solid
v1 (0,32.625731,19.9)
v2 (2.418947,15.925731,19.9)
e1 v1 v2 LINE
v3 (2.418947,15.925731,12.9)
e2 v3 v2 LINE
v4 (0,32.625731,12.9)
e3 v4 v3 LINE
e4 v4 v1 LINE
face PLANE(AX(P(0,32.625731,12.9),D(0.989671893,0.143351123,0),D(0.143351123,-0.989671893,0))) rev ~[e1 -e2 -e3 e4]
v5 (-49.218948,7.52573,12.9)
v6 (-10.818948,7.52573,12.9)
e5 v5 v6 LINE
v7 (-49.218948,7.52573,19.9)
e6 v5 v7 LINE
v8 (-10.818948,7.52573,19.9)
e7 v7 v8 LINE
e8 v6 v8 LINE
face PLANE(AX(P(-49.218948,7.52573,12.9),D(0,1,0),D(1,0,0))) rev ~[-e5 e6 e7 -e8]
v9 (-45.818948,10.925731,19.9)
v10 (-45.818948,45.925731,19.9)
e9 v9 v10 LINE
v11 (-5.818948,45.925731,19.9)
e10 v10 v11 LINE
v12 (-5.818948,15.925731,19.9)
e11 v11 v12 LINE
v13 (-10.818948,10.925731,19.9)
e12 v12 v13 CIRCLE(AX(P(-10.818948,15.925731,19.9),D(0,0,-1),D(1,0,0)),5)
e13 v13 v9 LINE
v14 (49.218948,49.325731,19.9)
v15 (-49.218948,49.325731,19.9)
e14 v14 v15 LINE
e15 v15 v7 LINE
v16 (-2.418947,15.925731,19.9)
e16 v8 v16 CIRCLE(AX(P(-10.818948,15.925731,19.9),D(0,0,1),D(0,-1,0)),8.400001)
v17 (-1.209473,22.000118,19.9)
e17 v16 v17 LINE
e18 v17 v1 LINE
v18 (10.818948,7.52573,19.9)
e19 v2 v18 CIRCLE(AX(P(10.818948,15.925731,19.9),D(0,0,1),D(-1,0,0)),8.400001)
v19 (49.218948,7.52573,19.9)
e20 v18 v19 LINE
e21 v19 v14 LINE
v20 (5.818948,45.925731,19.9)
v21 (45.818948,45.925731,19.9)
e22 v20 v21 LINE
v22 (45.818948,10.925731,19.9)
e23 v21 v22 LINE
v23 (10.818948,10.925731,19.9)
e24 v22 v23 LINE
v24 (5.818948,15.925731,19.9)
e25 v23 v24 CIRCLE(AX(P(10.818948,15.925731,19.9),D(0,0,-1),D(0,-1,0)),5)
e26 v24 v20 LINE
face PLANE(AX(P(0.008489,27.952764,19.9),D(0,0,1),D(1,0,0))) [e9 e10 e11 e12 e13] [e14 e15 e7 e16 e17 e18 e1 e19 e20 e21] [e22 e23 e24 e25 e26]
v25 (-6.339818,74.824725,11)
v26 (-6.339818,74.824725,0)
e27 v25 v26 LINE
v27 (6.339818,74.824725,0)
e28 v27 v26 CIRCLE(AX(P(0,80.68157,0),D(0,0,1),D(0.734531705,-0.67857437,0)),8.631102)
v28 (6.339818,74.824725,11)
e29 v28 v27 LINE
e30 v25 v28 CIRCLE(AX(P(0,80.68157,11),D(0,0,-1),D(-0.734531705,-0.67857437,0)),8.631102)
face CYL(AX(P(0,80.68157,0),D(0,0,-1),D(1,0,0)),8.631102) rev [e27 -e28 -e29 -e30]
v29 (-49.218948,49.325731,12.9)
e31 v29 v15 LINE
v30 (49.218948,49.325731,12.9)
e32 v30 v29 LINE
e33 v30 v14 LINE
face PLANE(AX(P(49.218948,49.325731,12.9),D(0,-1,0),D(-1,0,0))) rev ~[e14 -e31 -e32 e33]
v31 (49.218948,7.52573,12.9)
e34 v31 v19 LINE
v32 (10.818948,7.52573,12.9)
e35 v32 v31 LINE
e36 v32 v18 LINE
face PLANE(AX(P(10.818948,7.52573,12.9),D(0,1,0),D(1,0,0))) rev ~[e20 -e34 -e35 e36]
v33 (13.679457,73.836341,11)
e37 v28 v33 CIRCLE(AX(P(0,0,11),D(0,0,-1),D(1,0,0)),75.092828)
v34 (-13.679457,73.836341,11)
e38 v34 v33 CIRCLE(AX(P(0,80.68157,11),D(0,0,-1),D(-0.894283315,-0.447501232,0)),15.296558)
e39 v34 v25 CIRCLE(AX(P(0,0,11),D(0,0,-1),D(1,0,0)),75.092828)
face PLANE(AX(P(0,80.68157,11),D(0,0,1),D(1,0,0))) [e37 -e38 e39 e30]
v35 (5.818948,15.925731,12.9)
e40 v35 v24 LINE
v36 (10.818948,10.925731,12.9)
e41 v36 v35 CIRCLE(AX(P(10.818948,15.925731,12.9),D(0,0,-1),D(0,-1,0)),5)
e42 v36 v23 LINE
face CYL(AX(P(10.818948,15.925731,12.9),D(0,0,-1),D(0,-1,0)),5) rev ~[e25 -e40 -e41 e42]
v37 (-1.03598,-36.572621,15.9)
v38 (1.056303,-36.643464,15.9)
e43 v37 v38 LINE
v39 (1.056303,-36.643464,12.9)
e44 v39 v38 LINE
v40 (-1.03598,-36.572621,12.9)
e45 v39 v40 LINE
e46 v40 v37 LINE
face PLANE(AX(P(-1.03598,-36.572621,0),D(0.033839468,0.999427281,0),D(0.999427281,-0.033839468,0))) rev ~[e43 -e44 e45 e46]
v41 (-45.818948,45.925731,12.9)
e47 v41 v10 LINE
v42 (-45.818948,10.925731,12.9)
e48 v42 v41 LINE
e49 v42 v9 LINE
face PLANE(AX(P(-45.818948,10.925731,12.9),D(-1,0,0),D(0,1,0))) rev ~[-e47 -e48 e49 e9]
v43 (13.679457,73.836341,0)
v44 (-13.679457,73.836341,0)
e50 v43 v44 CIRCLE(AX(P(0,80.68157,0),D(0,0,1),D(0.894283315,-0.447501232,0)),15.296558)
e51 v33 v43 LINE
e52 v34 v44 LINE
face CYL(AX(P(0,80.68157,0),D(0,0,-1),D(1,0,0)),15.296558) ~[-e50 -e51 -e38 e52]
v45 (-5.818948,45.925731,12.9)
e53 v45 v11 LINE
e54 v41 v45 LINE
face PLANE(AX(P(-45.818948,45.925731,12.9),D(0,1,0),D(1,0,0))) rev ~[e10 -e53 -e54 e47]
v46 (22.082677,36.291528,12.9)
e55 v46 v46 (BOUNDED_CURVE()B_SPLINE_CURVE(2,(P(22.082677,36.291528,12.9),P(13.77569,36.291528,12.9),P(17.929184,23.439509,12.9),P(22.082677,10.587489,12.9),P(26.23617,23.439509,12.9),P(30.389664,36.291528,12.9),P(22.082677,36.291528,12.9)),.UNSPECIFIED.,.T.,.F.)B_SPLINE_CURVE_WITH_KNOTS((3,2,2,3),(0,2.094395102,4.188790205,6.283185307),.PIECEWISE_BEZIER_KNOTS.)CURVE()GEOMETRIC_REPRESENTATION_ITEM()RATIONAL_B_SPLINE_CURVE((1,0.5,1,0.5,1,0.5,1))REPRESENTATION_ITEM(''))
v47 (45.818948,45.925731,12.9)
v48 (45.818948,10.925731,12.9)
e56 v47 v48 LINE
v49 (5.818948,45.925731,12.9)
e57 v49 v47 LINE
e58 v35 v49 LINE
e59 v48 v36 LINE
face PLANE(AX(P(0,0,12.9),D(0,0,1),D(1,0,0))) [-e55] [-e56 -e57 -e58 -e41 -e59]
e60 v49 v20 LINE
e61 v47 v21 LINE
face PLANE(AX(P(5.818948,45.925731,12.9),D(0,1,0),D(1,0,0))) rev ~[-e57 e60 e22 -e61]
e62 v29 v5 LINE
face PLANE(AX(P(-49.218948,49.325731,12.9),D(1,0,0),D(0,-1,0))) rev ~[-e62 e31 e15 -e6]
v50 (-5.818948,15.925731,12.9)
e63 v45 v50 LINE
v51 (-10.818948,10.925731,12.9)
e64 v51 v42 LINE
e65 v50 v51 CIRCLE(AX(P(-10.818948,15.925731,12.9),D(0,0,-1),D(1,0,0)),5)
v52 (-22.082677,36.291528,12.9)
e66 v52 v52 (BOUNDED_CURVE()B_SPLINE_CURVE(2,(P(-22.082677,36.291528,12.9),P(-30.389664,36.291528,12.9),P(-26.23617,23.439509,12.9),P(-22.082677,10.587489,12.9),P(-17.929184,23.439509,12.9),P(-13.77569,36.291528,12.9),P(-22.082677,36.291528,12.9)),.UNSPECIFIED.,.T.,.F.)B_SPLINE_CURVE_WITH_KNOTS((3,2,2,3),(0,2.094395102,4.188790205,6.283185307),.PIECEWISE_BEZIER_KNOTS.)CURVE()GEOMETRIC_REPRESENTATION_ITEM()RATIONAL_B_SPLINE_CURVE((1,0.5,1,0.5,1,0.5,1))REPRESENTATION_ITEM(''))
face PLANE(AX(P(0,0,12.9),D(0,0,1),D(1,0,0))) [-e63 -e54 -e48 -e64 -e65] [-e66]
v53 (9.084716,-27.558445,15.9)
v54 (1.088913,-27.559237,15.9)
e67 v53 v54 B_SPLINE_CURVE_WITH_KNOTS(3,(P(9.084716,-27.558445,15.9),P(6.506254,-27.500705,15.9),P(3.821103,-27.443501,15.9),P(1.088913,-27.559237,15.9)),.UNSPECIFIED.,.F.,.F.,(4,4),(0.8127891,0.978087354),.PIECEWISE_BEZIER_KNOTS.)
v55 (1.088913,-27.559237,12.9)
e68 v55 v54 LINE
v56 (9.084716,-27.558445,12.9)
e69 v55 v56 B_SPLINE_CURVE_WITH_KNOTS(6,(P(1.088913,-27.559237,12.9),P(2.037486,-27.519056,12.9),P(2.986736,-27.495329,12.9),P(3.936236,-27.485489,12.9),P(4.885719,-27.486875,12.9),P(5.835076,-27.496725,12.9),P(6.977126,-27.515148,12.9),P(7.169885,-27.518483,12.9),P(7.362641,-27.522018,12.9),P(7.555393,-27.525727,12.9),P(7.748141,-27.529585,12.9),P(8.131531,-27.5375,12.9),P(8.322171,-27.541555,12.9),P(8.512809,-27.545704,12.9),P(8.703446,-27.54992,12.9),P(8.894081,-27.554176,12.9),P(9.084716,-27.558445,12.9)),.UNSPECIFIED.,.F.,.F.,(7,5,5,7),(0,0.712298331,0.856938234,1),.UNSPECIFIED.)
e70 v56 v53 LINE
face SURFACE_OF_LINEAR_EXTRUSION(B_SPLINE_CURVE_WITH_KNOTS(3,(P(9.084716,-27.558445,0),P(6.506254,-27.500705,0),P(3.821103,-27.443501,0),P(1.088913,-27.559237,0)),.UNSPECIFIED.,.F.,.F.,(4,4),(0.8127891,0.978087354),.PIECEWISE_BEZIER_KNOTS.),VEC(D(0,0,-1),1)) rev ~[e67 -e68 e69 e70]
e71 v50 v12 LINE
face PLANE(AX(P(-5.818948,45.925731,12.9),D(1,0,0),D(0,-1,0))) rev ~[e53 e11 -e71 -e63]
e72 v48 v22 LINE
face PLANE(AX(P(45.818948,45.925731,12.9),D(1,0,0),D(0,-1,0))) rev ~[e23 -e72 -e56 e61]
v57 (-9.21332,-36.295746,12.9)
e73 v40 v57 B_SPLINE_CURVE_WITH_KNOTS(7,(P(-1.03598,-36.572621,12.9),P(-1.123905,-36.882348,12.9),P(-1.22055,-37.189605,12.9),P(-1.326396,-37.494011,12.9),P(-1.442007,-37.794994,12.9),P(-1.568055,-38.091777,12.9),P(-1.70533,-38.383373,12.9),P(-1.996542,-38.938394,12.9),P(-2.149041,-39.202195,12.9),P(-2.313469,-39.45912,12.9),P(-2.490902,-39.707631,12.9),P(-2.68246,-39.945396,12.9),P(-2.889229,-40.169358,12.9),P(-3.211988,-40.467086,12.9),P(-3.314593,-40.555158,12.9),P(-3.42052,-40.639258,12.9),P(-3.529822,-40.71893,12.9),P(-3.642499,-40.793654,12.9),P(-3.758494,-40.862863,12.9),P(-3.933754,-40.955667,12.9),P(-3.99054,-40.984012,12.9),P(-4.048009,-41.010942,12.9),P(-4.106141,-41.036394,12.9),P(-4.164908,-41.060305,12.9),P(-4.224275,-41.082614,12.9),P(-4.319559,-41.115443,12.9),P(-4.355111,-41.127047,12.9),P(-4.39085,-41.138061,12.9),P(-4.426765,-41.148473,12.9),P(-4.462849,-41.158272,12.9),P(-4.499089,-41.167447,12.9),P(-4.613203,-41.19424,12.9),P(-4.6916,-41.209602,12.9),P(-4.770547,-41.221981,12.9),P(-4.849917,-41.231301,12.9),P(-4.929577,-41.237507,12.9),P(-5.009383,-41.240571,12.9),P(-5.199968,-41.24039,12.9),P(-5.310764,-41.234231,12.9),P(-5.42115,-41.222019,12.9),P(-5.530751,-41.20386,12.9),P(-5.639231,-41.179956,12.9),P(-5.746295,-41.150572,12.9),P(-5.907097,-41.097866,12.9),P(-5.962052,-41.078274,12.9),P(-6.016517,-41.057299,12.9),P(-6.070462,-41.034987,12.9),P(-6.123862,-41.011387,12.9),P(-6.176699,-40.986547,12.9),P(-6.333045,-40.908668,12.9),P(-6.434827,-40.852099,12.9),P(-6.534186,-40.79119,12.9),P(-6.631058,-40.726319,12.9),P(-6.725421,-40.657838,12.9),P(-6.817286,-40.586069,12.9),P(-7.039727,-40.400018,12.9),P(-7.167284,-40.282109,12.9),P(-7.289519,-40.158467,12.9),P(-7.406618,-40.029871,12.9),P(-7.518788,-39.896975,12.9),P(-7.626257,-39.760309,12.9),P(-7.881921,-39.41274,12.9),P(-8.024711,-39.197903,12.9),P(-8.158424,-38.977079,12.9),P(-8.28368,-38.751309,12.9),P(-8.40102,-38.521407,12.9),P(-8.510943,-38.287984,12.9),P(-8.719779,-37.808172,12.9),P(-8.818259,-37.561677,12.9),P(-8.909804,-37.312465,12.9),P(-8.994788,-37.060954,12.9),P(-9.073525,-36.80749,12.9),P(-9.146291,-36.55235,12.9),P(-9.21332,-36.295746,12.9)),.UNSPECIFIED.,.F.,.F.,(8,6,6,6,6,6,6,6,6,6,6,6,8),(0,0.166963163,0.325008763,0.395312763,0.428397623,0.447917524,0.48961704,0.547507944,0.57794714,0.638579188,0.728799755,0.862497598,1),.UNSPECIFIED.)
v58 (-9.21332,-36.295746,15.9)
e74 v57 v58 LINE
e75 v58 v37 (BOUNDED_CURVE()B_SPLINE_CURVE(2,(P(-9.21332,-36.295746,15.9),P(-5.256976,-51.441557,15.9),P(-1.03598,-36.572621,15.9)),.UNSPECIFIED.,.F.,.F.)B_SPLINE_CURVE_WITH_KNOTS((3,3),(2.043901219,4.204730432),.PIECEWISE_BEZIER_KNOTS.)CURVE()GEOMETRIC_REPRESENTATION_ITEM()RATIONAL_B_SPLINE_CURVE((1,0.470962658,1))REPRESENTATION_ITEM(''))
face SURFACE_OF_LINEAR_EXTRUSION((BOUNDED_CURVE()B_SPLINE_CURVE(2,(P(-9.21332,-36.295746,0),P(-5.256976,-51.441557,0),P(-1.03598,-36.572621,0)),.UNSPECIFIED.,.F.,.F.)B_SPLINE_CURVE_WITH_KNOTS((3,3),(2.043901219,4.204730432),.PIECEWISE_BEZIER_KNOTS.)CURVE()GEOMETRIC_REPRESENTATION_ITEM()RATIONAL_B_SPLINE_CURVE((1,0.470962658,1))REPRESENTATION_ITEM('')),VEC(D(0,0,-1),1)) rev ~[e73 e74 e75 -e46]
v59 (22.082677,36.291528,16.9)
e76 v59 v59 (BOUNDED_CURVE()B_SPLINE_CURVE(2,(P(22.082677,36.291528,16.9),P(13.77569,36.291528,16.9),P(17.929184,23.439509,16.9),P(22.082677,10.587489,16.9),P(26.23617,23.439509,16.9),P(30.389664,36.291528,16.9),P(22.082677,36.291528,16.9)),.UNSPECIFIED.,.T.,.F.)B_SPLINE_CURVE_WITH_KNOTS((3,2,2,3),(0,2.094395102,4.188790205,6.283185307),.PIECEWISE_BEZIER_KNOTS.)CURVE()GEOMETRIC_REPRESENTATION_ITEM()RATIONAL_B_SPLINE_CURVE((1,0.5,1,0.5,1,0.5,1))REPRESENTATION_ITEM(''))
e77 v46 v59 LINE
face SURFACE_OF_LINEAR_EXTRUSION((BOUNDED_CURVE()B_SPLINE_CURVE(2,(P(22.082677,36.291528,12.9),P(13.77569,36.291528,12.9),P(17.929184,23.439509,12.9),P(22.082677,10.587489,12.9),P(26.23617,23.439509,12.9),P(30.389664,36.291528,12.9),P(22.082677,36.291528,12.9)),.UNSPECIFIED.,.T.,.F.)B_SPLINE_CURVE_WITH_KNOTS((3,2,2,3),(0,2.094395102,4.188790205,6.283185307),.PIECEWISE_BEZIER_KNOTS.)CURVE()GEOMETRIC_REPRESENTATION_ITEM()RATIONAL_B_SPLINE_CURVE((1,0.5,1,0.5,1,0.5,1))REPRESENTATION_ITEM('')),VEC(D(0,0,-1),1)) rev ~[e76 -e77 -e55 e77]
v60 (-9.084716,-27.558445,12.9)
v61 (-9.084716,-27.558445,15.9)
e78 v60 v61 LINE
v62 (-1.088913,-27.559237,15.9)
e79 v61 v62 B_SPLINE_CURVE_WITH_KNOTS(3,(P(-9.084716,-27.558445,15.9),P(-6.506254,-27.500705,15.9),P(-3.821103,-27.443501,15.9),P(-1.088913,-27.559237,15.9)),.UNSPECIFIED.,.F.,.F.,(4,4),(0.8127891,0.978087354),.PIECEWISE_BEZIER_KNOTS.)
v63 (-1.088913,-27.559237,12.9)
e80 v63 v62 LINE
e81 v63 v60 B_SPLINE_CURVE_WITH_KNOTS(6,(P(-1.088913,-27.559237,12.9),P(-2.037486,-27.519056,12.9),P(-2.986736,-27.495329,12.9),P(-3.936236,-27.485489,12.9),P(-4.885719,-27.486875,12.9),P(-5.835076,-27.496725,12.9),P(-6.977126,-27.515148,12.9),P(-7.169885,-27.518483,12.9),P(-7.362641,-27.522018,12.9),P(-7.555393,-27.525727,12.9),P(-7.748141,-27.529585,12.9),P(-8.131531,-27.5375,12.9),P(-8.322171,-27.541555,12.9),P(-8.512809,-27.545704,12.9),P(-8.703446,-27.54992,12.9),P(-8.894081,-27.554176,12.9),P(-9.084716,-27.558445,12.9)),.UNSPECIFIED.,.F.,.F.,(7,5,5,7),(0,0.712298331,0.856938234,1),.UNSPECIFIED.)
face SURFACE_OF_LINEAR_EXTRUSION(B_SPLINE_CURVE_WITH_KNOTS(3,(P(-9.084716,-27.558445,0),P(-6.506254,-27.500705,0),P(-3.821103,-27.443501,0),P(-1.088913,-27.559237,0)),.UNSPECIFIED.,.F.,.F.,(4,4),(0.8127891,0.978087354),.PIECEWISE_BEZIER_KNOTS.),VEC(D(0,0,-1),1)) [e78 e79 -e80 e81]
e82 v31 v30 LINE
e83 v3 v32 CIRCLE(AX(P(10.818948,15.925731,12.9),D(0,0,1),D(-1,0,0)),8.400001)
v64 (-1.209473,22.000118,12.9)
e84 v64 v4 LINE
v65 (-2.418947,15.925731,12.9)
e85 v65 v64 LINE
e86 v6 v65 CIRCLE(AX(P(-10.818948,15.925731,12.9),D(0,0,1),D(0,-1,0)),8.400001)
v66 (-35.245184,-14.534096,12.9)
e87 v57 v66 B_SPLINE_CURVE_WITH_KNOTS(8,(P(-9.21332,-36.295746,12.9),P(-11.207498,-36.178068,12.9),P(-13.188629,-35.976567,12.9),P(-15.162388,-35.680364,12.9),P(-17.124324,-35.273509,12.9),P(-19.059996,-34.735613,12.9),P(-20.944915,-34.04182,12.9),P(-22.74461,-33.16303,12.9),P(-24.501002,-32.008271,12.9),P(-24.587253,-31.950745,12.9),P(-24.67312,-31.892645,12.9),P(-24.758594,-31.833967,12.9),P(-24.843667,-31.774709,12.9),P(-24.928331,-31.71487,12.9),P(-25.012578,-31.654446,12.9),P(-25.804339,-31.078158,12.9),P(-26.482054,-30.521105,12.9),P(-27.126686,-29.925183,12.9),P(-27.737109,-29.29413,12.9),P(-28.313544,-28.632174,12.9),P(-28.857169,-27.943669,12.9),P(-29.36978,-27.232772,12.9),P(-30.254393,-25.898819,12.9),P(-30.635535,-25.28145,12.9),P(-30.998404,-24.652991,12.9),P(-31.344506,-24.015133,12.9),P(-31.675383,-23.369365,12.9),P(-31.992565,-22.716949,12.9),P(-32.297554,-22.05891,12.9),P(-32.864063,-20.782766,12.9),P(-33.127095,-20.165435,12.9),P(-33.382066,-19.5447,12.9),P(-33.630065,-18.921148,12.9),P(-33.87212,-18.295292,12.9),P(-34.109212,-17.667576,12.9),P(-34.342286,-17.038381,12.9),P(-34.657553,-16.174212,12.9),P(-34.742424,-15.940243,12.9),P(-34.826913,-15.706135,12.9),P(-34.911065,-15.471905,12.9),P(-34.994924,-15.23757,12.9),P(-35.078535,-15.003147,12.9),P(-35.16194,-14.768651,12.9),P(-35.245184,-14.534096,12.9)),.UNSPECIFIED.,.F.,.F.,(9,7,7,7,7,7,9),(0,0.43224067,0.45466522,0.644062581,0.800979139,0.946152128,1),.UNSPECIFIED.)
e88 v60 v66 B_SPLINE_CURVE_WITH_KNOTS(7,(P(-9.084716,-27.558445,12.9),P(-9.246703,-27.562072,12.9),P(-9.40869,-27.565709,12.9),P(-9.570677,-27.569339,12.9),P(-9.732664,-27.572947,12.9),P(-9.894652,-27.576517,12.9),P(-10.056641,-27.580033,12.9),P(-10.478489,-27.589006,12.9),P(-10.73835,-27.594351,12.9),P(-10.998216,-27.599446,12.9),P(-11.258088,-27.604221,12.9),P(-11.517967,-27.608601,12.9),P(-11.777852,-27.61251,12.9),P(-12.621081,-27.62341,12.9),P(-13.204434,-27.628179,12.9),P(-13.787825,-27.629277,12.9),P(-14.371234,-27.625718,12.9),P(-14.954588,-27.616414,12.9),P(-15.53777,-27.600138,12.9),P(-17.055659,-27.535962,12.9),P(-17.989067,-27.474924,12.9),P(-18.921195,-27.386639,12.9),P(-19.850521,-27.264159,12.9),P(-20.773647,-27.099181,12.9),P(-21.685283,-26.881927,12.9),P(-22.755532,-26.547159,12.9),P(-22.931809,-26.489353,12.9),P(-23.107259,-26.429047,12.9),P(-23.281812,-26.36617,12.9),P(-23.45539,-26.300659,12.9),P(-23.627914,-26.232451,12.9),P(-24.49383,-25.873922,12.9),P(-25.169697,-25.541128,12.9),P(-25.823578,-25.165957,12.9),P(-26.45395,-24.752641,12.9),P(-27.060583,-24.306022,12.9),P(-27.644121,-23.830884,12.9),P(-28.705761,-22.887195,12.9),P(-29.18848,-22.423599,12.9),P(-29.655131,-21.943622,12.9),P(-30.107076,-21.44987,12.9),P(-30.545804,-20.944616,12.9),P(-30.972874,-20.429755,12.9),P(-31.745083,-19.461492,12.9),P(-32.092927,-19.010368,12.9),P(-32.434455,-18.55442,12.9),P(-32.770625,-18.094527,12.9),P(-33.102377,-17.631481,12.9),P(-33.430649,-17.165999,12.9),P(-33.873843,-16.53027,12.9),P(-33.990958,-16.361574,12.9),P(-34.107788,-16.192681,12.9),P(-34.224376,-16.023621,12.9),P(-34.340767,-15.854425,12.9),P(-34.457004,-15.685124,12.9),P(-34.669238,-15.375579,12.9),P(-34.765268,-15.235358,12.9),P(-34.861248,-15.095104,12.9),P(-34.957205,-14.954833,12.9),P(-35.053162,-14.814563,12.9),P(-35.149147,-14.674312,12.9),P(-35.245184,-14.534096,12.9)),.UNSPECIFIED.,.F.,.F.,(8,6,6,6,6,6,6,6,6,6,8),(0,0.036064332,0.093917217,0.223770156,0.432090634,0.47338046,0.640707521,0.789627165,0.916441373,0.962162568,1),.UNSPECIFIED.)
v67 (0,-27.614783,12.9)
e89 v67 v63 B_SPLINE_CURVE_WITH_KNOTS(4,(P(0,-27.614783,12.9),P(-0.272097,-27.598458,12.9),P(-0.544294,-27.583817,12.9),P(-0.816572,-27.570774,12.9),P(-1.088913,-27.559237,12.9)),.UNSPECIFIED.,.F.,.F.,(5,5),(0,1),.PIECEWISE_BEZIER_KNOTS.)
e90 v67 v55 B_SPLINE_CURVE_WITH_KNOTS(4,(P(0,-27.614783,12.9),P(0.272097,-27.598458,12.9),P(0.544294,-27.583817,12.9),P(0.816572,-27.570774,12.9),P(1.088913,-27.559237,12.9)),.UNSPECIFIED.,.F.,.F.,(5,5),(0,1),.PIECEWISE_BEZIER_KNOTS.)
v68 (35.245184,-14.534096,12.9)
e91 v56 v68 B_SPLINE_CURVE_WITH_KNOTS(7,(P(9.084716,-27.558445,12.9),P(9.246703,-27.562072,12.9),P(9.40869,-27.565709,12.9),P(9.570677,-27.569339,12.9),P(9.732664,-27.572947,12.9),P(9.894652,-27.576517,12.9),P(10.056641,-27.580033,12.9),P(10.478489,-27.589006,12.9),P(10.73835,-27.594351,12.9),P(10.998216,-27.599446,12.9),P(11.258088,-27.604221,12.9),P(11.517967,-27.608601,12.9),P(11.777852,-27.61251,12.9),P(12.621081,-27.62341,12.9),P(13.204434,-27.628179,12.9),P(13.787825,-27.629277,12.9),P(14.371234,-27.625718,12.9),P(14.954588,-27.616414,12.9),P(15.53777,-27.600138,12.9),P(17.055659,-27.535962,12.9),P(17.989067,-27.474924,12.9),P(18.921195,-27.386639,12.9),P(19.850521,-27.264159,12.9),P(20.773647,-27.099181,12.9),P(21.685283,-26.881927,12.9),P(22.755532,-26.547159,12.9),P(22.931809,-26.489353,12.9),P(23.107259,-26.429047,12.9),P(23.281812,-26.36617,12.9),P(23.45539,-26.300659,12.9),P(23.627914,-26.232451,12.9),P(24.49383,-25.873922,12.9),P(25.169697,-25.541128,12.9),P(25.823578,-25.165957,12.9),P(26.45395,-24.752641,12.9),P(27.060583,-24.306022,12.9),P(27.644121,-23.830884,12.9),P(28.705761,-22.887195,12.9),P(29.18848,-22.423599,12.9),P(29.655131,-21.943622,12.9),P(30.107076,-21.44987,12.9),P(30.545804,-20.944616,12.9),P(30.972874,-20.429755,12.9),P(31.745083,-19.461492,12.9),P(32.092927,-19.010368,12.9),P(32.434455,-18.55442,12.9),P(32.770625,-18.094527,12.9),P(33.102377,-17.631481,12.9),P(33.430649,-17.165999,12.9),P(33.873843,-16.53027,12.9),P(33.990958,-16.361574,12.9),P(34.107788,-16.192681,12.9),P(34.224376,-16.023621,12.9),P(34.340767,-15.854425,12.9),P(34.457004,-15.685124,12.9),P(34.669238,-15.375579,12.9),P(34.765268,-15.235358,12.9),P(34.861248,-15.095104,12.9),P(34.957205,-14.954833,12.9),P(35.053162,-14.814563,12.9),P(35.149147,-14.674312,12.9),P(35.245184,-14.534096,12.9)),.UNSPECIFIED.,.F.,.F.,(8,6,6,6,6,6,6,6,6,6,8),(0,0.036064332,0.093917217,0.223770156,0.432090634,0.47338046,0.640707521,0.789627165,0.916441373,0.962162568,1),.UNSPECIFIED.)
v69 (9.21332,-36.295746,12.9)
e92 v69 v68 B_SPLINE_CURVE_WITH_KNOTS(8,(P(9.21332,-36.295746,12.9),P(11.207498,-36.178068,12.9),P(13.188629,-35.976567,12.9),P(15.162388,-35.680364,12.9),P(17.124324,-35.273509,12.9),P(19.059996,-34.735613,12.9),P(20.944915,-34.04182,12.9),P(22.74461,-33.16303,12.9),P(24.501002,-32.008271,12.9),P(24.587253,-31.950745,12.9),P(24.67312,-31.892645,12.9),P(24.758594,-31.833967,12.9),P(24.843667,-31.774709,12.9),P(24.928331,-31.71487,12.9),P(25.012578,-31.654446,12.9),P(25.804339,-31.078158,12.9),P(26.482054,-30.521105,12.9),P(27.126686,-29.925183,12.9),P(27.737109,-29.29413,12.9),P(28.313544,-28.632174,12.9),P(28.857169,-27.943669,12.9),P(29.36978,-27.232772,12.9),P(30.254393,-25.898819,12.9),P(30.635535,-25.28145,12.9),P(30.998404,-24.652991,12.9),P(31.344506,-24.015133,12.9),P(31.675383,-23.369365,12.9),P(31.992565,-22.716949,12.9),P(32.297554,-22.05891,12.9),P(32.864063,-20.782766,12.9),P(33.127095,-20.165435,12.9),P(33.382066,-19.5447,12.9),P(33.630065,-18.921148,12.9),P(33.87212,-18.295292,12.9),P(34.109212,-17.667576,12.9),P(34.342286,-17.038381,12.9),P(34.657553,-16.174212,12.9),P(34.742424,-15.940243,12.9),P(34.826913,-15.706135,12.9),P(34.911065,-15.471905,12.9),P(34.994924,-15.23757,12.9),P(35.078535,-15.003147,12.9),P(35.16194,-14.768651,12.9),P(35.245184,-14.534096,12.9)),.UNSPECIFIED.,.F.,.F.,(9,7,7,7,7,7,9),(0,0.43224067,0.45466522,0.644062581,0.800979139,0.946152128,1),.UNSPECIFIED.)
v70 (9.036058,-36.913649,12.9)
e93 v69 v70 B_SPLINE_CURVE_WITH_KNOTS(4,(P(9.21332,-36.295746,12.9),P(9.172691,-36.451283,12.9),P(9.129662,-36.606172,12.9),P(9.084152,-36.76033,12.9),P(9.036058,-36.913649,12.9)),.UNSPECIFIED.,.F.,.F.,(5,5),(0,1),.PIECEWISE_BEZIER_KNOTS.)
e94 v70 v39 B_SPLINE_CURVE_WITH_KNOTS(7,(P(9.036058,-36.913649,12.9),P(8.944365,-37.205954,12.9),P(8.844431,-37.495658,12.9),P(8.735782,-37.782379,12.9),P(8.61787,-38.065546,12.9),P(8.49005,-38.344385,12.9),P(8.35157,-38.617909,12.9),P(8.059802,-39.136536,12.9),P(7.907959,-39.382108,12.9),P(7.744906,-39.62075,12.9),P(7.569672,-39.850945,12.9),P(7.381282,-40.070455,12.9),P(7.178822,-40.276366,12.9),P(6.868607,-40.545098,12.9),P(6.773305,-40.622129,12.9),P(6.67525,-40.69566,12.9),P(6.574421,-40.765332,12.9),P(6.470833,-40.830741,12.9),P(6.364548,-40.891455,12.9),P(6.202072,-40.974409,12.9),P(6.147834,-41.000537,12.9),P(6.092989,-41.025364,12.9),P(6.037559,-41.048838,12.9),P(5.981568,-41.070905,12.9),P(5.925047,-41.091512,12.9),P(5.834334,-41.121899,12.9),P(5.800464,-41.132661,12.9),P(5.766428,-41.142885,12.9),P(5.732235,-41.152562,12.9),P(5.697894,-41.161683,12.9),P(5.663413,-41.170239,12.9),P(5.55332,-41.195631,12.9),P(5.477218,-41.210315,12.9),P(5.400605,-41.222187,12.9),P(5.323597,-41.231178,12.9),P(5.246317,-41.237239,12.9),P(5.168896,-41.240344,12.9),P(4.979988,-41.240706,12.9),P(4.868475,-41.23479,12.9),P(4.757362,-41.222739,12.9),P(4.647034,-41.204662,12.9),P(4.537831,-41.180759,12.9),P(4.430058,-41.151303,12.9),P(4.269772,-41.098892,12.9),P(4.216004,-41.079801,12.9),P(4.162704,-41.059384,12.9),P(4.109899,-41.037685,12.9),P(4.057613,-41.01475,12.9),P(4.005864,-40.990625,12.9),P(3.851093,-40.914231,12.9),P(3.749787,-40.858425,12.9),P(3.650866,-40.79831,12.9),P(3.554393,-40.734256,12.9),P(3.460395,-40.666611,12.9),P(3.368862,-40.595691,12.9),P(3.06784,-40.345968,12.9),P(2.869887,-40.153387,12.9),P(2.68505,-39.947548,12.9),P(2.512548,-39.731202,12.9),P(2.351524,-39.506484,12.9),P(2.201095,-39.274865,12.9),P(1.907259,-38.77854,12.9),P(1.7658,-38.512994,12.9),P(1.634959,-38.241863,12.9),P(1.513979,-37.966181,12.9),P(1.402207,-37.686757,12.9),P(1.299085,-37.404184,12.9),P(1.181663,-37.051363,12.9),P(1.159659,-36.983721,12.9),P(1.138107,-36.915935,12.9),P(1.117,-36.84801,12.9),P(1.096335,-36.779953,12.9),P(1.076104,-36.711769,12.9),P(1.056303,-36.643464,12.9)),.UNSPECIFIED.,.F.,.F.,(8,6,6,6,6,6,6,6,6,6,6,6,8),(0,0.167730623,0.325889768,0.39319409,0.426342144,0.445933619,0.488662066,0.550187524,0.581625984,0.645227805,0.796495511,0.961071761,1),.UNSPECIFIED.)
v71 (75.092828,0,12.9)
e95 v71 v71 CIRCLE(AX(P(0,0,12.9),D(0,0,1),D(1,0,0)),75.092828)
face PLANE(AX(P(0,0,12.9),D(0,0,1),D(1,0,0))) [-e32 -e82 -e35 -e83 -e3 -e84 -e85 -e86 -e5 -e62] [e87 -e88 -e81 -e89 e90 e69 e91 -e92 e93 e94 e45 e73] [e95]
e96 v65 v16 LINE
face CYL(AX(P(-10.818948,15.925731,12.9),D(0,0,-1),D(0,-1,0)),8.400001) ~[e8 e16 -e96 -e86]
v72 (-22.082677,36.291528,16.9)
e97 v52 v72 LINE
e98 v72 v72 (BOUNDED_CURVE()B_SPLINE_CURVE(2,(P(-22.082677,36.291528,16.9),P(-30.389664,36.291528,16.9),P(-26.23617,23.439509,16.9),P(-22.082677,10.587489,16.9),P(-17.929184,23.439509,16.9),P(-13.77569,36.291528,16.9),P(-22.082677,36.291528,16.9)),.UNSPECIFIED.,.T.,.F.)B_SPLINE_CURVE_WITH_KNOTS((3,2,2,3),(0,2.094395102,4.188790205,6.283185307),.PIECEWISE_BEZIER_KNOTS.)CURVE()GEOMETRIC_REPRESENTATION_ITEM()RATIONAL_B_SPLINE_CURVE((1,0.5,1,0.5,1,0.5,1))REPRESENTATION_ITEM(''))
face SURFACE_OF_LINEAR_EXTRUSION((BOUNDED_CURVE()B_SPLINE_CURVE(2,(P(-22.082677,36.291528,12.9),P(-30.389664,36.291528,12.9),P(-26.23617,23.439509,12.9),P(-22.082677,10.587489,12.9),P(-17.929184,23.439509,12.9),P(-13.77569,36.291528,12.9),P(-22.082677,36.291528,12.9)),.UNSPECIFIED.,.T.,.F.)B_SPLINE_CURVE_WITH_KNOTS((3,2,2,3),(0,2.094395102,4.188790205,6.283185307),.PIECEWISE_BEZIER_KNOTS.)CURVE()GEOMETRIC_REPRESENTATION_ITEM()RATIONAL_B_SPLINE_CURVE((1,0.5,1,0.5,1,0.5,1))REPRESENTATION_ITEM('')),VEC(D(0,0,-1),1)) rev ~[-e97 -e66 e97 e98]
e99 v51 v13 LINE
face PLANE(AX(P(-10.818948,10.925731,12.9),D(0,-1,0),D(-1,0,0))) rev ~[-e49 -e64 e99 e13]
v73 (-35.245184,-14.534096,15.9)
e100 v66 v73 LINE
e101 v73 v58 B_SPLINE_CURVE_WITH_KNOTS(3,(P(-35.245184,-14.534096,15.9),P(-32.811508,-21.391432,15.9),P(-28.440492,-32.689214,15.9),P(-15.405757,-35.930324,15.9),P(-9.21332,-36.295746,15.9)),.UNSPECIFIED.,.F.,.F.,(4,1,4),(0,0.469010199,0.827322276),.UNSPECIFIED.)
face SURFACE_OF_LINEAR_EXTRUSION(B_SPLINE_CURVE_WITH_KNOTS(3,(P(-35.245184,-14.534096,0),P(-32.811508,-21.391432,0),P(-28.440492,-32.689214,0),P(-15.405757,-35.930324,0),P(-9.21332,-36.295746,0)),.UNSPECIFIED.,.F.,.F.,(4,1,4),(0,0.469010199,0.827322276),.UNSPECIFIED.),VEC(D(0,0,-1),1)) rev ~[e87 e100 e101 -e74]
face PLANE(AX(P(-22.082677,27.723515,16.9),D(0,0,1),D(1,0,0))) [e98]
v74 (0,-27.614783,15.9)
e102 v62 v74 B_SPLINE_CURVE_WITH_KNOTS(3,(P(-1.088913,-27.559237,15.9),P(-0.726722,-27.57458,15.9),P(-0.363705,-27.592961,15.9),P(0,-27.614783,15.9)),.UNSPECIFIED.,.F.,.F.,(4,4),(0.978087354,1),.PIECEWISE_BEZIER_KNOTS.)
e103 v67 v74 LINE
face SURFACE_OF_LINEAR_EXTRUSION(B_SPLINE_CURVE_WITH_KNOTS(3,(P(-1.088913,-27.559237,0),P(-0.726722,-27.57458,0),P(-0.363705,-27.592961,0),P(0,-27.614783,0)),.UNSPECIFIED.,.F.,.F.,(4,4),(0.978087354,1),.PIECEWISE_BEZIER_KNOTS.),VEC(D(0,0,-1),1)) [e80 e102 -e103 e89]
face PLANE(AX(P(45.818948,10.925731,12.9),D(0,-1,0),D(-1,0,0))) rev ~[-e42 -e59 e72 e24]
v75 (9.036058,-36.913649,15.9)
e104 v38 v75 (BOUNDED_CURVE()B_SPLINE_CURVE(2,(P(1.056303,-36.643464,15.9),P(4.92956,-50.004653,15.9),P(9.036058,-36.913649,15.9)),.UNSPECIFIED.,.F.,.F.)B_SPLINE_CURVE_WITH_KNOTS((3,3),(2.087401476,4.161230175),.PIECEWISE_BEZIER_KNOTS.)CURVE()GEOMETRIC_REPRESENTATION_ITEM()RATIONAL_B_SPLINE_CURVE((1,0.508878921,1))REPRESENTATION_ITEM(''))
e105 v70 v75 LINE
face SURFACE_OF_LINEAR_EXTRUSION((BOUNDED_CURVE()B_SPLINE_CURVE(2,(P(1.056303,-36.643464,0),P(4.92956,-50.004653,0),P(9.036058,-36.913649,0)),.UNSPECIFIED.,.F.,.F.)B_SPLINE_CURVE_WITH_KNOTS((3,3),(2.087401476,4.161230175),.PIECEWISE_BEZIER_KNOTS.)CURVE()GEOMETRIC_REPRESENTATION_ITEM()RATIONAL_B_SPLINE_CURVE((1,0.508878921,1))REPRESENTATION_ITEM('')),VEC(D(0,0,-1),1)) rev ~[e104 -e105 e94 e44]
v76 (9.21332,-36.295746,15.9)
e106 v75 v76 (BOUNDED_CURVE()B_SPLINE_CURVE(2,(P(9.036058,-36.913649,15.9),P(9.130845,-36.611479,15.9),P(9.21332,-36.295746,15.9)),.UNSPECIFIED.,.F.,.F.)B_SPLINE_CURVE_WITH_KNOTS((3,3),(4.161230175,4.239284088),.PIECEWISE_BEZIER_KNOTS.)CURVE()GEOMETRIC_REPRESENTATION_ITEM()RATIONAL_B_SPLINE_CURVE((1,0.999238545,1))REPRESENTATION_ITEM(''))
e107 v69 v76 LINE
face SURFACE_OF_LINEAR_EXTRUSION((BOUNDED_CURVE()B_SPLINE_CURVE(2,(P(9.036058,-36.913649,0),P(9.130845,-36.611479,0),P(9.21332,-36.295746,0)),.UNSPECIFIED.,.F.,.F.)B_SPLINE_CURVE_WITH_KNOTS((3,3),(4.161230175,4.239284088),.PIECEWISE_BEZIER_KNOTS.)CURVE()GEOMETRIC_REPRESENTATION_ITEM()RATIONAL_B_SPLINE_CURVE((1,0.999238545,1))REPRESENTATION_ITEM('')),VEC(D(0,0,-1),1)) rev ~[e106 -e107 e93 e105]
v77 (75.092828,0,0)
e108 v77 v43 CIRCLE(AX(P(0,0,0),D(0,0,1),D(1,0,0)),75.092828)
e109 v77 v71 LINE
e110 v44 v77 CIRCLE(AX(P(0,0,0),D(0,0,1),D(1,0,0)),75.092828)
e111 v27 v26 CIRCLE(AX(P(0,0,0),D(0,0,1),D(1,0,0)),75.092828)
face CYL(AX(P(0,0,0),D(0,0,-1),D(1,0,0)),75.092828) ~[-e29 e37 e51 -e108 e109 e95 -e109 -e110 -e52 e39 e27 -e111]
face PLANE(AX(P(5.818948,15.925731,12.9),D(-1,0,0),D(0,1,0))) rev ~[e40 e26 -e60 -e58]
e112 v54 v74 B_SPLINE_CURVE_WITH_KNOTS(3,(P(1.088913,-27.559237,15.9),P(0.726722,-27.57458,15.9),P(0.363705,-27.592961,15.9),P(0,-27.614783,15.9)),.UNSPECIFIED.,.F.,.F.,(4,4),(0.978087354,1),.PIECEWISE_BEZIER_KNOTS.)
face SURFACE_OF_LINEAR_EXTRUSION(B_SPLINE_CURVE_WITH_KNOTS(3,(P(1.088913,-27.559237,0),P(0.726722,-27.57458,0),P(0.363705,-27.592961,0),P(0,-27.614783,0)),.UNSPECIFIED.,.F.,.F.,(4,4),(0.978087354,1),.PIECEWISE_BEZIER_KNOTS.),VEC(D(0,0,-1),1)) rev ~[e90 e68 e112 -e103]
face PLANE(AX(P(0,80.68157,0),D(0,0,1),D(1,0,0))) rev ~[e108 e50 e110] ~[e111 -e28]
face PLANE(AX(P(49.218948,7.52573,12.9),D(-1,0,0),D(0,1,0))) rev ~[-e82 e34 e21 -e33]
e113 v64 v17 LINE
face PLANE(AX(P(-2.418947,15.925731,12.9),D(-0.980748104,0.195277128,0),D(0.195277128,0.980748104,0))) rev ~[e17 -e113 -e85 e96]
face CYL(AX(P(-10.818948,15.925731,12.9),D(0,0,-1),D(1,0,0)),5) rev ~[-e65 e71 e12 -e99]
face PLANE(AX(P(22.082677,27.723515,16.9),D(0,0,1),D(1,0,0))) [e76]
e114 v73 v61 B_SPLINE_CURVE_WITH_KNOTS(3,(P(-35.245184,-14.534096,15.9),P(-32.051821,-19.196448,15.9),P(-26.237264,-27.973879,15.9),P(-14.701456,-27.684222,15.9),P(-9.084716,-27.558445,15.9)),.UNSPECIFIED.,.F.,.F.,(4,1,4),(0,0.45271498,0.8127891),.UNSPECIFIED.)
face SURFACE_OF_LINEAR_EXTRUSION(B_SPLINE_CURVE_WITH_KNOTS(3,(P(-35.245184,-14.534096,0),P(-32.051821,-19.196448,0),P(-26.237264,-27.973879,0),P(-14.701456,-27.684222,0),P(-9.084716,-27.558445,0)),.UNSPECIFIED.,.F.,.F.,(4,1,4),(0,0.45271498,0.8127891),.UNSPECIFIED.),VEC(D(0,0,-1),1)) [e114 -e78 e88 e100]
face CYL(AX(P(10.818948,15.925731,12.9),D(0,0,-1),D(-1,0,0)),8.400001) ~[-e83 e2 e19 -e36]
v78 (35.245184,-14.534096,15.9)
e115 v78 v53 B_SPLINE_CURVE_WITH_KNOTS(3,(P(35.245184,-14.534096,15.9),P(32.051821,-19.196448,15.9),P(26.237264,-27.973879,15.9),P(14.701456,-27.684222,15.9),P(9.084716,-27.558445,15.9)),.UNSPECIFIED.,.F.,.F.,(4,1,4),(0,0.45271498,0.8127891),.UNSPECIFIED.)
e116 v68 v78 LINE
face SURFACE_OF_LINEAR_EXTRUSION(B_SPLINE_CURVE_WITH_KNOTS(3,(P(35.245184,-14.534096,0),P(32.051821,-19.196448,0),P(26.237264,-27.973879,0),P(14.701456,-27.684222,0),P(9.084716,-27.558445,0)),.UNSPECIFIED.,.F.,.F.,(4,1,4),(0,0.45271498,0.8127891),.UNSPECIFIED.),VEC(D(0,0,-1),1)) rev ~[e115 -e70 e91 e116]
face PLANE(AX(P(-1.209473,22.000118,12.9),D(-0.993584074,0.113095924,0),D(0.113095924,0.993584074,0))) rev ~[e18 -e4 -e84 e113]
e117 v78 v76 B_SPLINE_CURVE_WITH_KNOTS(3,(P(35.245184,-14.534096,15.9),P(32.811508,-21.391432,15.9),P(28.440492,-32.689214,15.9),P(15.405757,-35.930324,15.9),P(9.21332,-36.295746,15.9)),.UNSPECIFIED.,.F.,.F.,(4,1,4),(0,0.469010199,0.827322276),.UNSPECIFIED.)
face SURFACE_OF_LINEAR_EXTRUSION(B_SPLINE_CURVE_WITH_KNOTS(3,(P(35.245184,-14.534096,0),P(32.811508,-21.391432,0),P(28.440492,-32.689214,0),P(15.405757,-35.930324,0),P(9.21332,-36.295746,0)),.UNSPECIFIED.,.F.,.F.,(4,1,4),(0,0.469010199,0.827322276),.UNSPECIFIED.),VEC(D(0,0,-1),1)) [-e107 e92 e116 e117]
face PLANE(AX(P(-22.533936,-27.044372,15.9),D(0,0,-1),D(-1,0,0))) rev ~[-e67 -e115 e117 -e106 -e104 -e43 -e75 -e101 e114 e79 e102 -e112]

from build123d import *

# Parameters (mm, degrees)
F0_R     = 75.0928281094
F2_DEPTH = 12.9
F3_DEPTH = 15.9
F5_DEPTH = 4
F6_R     = 15.2965579627
F6_R_2   = 8.6311016996
F7_DEPTH = 11
F9_DEPTH = 7


with BuildPart() as f2:
    # F0 (on Top) → F2 (new body)
    with BuildSketch(Plane.XY):
        Circle(F0_R)
    extrude(amount=F2_DEPTH)

    # F1 (on face) → F3 (join)
    with BuildSketch(Plane.XY):
        with BuildLine():
            add(Edge.make_bspline(
                [(-35.2451838553, -14.5340962335), (-32.0518207836, -19.1964482892), (-26.2372639575, -27.9738789108), (-14.7014562583, -27.6842216687), (-9.08471609, -27.5584450171)],
                knots=[0, 0, 0, 0, 0.4527149803, 0.8127890997, 0.8127890997, 0.8127890997, 0.8127890997], degree=3))
            add(Edge.make_bspline(
                [(-35.2451838553, -14.5340962335), (-32.8115077506, -21.3914317712), (-28.4404924532, -32.6892135381), (-15.405757475, -35.9303240461), (-9.2133200428, -36.2957460358)],
                knots=[0, 0, 0, 0, 0.4690101989, 0.827322276, 0.827322276, 0.827322276, 0.827322276], degree=3))
            add(Edge.make_bspline(
                [(-9.08471609, -27.5584450171), (-10.3725503531, -31.8579406773), (-9.2133200428, -36.2957460358)],
                knots=[1.0400212004, 1.0400212004, 1.0400212004, 2.0439012187, 2.0439012187, 2.0439012187], degree=2, weights=[1, 0.8766508211, 1]))
        make_face()
        with BuildLine():
            add(Edge.make_bspline(
                [(-9.08471609, -27.5584450171), (-10.3725503531, -31.8579406773), (-9.2133200428, -36.2957460358)],
                knots=[1.0400212004, 1.0400212004, 1.0400212004, 2.0439012187, 2.0439012187, 2.0439012187], degree=2, weights=[1, 0.8766508211, 1]))
            add(Edge.make_bspline(
                [(-9.2133200428, -36.2957460358), (-6.5297495568, -36.4541062417), (-3.7434296225, -36.417470813), (-0.9420935331, -36.2243297496)],
                knots=[0.827322276, 0.827322276, 0.827322276, 0.827322276, 0.9826013119, 0.9826013119, 0.9826013119, 0.9826013119], degree=3))
            add(Edge.make_bspline(
                [(-0.9420935331, -36.2243297496), (0.1851268686, -31.8136655998), (-1.0889131788, -27.559237201)],
                knots=[4.2480963919, 4.2480963919, 4.2480963919, 5.2430629887, 5.2430629887, 5.2430629887], degree=2, weights=[1, 0.8787863524, 1]))
            add(Edge.make_bspline(
                [(-9.08471609, -27.5584450171), (-6.5062543312, -27.5007050689), (-3.8211027643, -27.4435013669), (-1.0889131788, -27.559237201)],
                knots=[0.8127890997, 0.8127890997, 0.8127890997, 0.8127890997, 0.9780873545, 0.9780873545, 0.9780873545, 0.9780873545], degree=3))
        make_face()
        with BuildLine():
            add(Edge.make_bspline(
                [(-9.2133200428, -36.2957460358), (-6.5297495568, -36.4541062417), (-3.7434296225, -36.417470813), (-0.9420935331, -36.2243297496)],
                knots=[0.827322276, 0.827322276, 0.827322276, 0.827322276, 0.9826013119, 0.9826013119, 0.9826013119, 0.9826013119], degree=3))
            add(Edge.make_bspline(
                [(-9.2133200428, -36.2957460358), (-5.2569763, -51.441557274), (-1.035979555, -36.5726214568)],
                knots=[2.0439012187, 2.0439012187, 2.0439012187, 4.204730432, 4.204730432, 4.204730432], degree=2, weights=[1, 0.4709626581, 1]))
            add(Edge.make_bspline(
                [(-1.035979555, -36.5726214568), (-0.9871093073, -36.4004705121), (-0.9420935331, -36.2243297496)],
                knots=[4.204730432, 4.204730432, 4.204730432, 4.2480963919, 4.2480963919, 4.2480963919], degree=2, weights=[1, 0.9997649334, 1]))
        make_face()
        with BuildLine():
            add(Edge.make_bspline(
                [(-0.9420935331, -36.2243297496), (0.1851268686, -31.8136655998), (-1.0889131788, -27.559237201)],
                knots=[4.2480963919, 4.2480963919, 4.2480963919, 5.2430629887, 5.2430629887, 5.2430629887], degree=2, weights=[1, 0.8787863524, 1]))
            add(Edge.make_bspline(
                [(-0.9420935331, -36.2243297496), (-0.6282097401, -36.2026887014), (-0.3141374234, -36.1790827672), (0, -36.1535660923)],
                knots=[0.9826013119, 0.9826013119, 0.9826013119, 0.9826013119, 1, 1, 1, 1], degree=3))
            add(Edge.make_bspline(
                [(0.9420935331, -36.2243297496), (0.6282097401, -36.2026887014), (0.3141374234, -36.1790827672), (0, -36.1535660923)],
                knots=[0.9826013119, 0.9826013119, 0.9826013119, 0.9826013119, 1, 1, 1, 1], degree=3))
            add(Edge.make_bspline(
                [(1.0889131788, -27.559237201), (-0.1851268686, -31.8136655998), (0.9420935331, -36.2243297496)],
                knots=[1.0401223185, 1.0401223185, 1.0401223185, 2.0350889153, 2.0350889153, 2.0350889153], degree=2, weights=[1, 0.8787863524, 1]))
            add(Edge.make_bspline(
                [(1.0889131788, -27.559237201), (0.7267224105, -27.5745796394), (0.3637050295, -27.5929611946), (0, -27.6147834957)],
                knots=[0.9780873545, 0.9780873545, 0.9780873545, 0.9780873545, 1, 1, 1, 1], degree=3))
            add(Edge.make_bspline(
                [(-1.0889131788, -27.559237201), (-0.7267224105, -27.5745796394), (-0.3637050295, -27.5929611946), (0, -27.6147834957)],
                knots=[0.9780873545, 0.9780873545, 0.9780873545, 0.9780873545, 1, 1, 1, 1], degree=3))
        make_face()
        with BuildLine():
            add(Edge.make_bspline(
                [(-0.9420935331, -36.2243297496), (-0.6282097401, -36.2026887014), (-0.3141374234, -36.1790827672), (0, -36.1535660923)],
                knots=[0.9826013119, 0.9826013119, 0.9826013119, 0.9826013119, 1, 1, 1, 1], degree=3))
            add(Edge.make_bspline(
                [(-1.035979555, -36.5726214568), (-0.9871093073, -36.4004705121), (-0.9420935331, -36.2243297496)],
                knots=[4.204730432, 4.204730432, 4.204730432, 4.2480963919, 4.2480963919, 4.2480963919], degree=2, weights=[1, 0.9997649334, 1]))
            Line((-1.035979555, -36.5726214568), (1.0563025697, -36.6434637429))
            add(Edge.make_bspline(
                [(0.9420935331, -36.2243297496), (0.9964001473, -36.4368243386), (1.0563025697, -36.6434637429)],
                knots=[2.0350889153, 2.0350889153, 2.0350889153, 2.087401476, 2.087401476, 2.087401476], degree=2, weights=[1, 0.999657944, 1]))
            add(Edge.make_bspline(
                [(0.9420935331, -36.2243297496), (0.6282097401, -36.2026887014), (0.3141374234, -36.1790827672), (0, -36.1535660923)],
                knots=[0.9826013119, 0.9826013119, 0.9826013119, 0.9826013119, 1, 1, 1, 1], degree=3))
        make_face()
        with BuildLine():
            add(Edge.make_bspline(
                [(0.9420935331, -36.2243297496), (0.9964001473, -36.4368243386), (1.0563025697, -36.6434637429)],
                knots=[2.0350889153, 2.0350889153, 2.0350889153, 2.087401476, 2.087401476, 2.087401476], degree=2, weights=[1, 0.999657944, 1]))
            add(Edge.make_bspline(
                [(1.0563025697, -36.6434637429), (4.92956003, -50.0046531742), (9.036057917, -36.9136491564)],
                knots=[2.087401476, 2.087401476, 2.087401476, 4.1612301746, 4.1612301746, 4.1612301746], degree=2, weights=[1, 0.5088789213, 1]))
            add(Edge.make_bspline(
                [(9.036057917, -36.9136491564), (9.1308451493, -36.6114792608), (9.2133200428, -36.2957460358)],
                knots=[4.1612301746, 4.1612301746, 4.1612301746, 4.2392840885, 4.2392840885, 4.2392840885], degree=2, weights=[1, 0.999238545, 1]))
            add(Edge.make_bspline(
                [(9.2133200428, -36.2957460358), (6.5297495568, -36.4541062417), (3.7434296225, -36.417470813), (0.9420935331, -36.2243297496)],
                knots=[0.827322276, 0.827322276, 0.827322276, 0.827322276, 0.9826013119, 0.9826013119, 0.9826013119, 0.9826013119], degree=3))
        make_face()
        with BuildLine():
            add(Edge.make_bspline(
                [(1.0889131788, -27.559237201), (-0.1851268686, -31.8136655998), (0.9420935331, -36.2243297496)],
                knots=[1.0401223185, 1.0401223185, 1.0401223185, 2.0350889153, 2.0350889153, 2.0350889153], degree=2, weights=[1, 0.8787863524, 1]))
            add(Edge.make_bspline(
                [(9.2133200428, -36.2957460358), (6.5297495568, -36.4541062417), (3.7434296225, -36.417470813), (0.9420935331, -36.2243297496)],
                knots=[0.827322276, 0.827322276, 0.827322276, 0.827322276, 0.9826013119, 0.9826013119, 0.9826013119, 0.9826013119], degree=3))
            add(Edge.make_bspline(
                [(9.2133200428, -36.2957460358), (10.3725503531, -31.8579406773), (9.08471609, -27.5584450171)],
                knots=[4.2392840885, 4.2392840885, 4.2392840885, 5.2431641067, 5.2431641067, 5.2431641067], degree=2, weights=[1, 0.8766508211, 1]))
            add(Edge.make_bspline(
                [(9.08471609, -27.5584450171), (6.5062543312, -27.5007050689), (3.8211027643, -27.4435013669), (1.0889131788, -27.559237201)],
                knots=[0.8127890997, 0.8127890997, 0.8127890997, 0.8127890997, 0.9780873545, 0.9780873545, 0.9780873545, 0.9780873545], degree=3))
        make_face()
        with BuildLine():
            add(Edge.make_bspline(
                [(9.2133200428, -36.2957460358), (10.3725503531, -31.8579406773), (9.08471609, -27.5584450171)],
                knots=[4.2392840885, 4.2392840885, 4.2392840885, 5.2431641067, 5.2431641067, 5.2431641067], degree=2, weights=[1, 0.8766508211, 1]))
            add(Edge.make_bspline(
                [(35.2451838553, -14.5340962335), (32.8115077506, -21.3914317712), (28.4404924532, -32.6892135381), (15.405757475, -35.9303240461), (9.2133200428, -36.2957460358)],
                knots=[0, 0, 0, 0, 0.4690101989, 0.827322276, 0.827322276, 0.827322276, 0.827322276], degree=3))
            add(Edge.make_bspline(
                [(35.2451838553, -14.5340962335), (32.0518207836, -19.1964482892), (26.2372639575, -27.9738789108), (14.7014562583, -27.6842216687), (9.08471609, -27.5584450171)],
                knots=[0, 0, 0, 0, 0.4527149803, 0.8127890997, 0.8127890997, 0.8127890997, 0.8127890997], degree=3))
        make_face()
    extrude(amount=F3_DEPTH)

    # F4 (on face) → F5 (join)
    with BuildSketch(Plane.XY.offset(12.9)):
        with BuildLine():
            add(Edge.make_bspline(
                [(-22.082677111, 36.2915284932), (-30.3896638277, 36.2915284932), (-26.2361704694, 23.4395088628), (-22.082677111, 10.5874892324), (-17.9291837527, 23.4395088628), (-13.7756903943, 36.2915284932), (-22.082677111, 36.2915284932)],
                knots=[0, 0, 0, 2.0943951024, 2.0943951024, 4.1887902048, 4.1887902048, 6.2831853072, 6.2831853072, 6.2831853072], degree=2, weights=[1, 0.5, 1, 0.5, 1, 0.5, 1]))
        make_face()
        with BuildLine():
            add(Edge.make_bspline(
                [(22.082677111, 36.2915284932), (13.7756903943, 36.2915284932), (17.9291837527, 23.4395088628), (22.082677111, 10.5874892324), (26.2361704694, 23.4395088628), (30.3896638277, 36.2915284932), (22.082677111, 36.2915284932)],
                knots=[0, 0, 0, 2.0943951024, 2.0943951024, 4.1887902048, 4.1887902048, 6.2831853072, 6.2831853072, 6.2831853072], degree=2, weights=[1, 0.5, 1, 0.5, 1, 0.5, 1]))
        make_face()
    extrude(amount=F5_DEPTH)

    # F6 (on Top) → F7 (join)
    with BuildSketch(Plane.XY):
        with Locations((0, 80.6815698743)):
            Circle(F6_R)
        with Locations((0, 80.6815698743)):
            Circle(F6_R_2, mode=Mode.SUBTRACT)
    extrude(amount=F7_DEPTH)

    # F8 (on face) → F9 (join)
    with BuildSketch(Plane.XY.offset(12.9)):
        with BuildLine():
            Line((-2.4189469405, 49.3257313765), (-49.2189481235, 49.3257313765))
            Line((-49.2189481235, 49.3257313765), (-49.2189481235, 7.5257301935))
            Line((-49.2189481235, 7.5257301935), (-10.818947532, 7.5257301935))
            ThreePointArc((-10.818947532, 7.5257301935), (-4.8792501517, 9.9860334048), (-2.4189469405, 15.925730785))
            Line((-2.4189469405, 15.925730785), (-1.2094734702, 22.000117611))
            Line((-1.2094734702, 22.000117611), (0, 32.6257310808))
            Line((0, 32.6257310808), (2.4189469405, 15.925730785))
            ThreePointArc((2.4189469405, 15.925730785), (4.8792501517, 9.9860334048), (10.818947532, 7.5257301935))
            Line((10.818947532, 7.5257301935), (49.2189481235, 7.5257301935))
            Line((49.2189481235, 7.5257301935), (49.2189481235, 49.3257313765))
            Line((49.2189481235, 49.3257313765), (2.4189469405, 49.3257313765))
            Line((2.4189469405, 49.3257313765), (-2.4189469405, 49.3257313765))
        make_face()
        with BuildLine():
            Line((-45.818947532, 10.925730785), (-45.818947532, 45.925730785))
            Line((-45.818947532, 45.925730785), (-5.818947532, 45.925730785))
            Line((-5.818947532, 45.925730785), (-5.818947532, 15.925730785))
            ThreePointArc((-5.818947532, 15.925730785), (-7.2834136261, 12.3901968791), (-10.818947532, 10.925730785))
            Line((-10.818947532, 10.925730785), (-45.818947532, 10.925730785))
        make_face(mode=Mode.SUBTRACT)
        with BuildLine():
            Line((5.818947532, 15.925730785), (5.818947532, 45.925730785))
            Line((5.818947532, 45.925730785), (45.818947532, 45.925730785))
            Line((45.818947532, 45.925730785), (45.818947532, 10.925730785))
            Line((45.818947532, 10.925730785), (10.818947532, 10.925730785))
            ThreePointArc((10.818947532, 10.925730785), (7.2834136261, 12.3901968791), (5.818947532, 15.925730785))
        make_face(mode=Mode.SUBTRACT)
    extrude(amount=F9_DEPTH)


solid = f2.part
